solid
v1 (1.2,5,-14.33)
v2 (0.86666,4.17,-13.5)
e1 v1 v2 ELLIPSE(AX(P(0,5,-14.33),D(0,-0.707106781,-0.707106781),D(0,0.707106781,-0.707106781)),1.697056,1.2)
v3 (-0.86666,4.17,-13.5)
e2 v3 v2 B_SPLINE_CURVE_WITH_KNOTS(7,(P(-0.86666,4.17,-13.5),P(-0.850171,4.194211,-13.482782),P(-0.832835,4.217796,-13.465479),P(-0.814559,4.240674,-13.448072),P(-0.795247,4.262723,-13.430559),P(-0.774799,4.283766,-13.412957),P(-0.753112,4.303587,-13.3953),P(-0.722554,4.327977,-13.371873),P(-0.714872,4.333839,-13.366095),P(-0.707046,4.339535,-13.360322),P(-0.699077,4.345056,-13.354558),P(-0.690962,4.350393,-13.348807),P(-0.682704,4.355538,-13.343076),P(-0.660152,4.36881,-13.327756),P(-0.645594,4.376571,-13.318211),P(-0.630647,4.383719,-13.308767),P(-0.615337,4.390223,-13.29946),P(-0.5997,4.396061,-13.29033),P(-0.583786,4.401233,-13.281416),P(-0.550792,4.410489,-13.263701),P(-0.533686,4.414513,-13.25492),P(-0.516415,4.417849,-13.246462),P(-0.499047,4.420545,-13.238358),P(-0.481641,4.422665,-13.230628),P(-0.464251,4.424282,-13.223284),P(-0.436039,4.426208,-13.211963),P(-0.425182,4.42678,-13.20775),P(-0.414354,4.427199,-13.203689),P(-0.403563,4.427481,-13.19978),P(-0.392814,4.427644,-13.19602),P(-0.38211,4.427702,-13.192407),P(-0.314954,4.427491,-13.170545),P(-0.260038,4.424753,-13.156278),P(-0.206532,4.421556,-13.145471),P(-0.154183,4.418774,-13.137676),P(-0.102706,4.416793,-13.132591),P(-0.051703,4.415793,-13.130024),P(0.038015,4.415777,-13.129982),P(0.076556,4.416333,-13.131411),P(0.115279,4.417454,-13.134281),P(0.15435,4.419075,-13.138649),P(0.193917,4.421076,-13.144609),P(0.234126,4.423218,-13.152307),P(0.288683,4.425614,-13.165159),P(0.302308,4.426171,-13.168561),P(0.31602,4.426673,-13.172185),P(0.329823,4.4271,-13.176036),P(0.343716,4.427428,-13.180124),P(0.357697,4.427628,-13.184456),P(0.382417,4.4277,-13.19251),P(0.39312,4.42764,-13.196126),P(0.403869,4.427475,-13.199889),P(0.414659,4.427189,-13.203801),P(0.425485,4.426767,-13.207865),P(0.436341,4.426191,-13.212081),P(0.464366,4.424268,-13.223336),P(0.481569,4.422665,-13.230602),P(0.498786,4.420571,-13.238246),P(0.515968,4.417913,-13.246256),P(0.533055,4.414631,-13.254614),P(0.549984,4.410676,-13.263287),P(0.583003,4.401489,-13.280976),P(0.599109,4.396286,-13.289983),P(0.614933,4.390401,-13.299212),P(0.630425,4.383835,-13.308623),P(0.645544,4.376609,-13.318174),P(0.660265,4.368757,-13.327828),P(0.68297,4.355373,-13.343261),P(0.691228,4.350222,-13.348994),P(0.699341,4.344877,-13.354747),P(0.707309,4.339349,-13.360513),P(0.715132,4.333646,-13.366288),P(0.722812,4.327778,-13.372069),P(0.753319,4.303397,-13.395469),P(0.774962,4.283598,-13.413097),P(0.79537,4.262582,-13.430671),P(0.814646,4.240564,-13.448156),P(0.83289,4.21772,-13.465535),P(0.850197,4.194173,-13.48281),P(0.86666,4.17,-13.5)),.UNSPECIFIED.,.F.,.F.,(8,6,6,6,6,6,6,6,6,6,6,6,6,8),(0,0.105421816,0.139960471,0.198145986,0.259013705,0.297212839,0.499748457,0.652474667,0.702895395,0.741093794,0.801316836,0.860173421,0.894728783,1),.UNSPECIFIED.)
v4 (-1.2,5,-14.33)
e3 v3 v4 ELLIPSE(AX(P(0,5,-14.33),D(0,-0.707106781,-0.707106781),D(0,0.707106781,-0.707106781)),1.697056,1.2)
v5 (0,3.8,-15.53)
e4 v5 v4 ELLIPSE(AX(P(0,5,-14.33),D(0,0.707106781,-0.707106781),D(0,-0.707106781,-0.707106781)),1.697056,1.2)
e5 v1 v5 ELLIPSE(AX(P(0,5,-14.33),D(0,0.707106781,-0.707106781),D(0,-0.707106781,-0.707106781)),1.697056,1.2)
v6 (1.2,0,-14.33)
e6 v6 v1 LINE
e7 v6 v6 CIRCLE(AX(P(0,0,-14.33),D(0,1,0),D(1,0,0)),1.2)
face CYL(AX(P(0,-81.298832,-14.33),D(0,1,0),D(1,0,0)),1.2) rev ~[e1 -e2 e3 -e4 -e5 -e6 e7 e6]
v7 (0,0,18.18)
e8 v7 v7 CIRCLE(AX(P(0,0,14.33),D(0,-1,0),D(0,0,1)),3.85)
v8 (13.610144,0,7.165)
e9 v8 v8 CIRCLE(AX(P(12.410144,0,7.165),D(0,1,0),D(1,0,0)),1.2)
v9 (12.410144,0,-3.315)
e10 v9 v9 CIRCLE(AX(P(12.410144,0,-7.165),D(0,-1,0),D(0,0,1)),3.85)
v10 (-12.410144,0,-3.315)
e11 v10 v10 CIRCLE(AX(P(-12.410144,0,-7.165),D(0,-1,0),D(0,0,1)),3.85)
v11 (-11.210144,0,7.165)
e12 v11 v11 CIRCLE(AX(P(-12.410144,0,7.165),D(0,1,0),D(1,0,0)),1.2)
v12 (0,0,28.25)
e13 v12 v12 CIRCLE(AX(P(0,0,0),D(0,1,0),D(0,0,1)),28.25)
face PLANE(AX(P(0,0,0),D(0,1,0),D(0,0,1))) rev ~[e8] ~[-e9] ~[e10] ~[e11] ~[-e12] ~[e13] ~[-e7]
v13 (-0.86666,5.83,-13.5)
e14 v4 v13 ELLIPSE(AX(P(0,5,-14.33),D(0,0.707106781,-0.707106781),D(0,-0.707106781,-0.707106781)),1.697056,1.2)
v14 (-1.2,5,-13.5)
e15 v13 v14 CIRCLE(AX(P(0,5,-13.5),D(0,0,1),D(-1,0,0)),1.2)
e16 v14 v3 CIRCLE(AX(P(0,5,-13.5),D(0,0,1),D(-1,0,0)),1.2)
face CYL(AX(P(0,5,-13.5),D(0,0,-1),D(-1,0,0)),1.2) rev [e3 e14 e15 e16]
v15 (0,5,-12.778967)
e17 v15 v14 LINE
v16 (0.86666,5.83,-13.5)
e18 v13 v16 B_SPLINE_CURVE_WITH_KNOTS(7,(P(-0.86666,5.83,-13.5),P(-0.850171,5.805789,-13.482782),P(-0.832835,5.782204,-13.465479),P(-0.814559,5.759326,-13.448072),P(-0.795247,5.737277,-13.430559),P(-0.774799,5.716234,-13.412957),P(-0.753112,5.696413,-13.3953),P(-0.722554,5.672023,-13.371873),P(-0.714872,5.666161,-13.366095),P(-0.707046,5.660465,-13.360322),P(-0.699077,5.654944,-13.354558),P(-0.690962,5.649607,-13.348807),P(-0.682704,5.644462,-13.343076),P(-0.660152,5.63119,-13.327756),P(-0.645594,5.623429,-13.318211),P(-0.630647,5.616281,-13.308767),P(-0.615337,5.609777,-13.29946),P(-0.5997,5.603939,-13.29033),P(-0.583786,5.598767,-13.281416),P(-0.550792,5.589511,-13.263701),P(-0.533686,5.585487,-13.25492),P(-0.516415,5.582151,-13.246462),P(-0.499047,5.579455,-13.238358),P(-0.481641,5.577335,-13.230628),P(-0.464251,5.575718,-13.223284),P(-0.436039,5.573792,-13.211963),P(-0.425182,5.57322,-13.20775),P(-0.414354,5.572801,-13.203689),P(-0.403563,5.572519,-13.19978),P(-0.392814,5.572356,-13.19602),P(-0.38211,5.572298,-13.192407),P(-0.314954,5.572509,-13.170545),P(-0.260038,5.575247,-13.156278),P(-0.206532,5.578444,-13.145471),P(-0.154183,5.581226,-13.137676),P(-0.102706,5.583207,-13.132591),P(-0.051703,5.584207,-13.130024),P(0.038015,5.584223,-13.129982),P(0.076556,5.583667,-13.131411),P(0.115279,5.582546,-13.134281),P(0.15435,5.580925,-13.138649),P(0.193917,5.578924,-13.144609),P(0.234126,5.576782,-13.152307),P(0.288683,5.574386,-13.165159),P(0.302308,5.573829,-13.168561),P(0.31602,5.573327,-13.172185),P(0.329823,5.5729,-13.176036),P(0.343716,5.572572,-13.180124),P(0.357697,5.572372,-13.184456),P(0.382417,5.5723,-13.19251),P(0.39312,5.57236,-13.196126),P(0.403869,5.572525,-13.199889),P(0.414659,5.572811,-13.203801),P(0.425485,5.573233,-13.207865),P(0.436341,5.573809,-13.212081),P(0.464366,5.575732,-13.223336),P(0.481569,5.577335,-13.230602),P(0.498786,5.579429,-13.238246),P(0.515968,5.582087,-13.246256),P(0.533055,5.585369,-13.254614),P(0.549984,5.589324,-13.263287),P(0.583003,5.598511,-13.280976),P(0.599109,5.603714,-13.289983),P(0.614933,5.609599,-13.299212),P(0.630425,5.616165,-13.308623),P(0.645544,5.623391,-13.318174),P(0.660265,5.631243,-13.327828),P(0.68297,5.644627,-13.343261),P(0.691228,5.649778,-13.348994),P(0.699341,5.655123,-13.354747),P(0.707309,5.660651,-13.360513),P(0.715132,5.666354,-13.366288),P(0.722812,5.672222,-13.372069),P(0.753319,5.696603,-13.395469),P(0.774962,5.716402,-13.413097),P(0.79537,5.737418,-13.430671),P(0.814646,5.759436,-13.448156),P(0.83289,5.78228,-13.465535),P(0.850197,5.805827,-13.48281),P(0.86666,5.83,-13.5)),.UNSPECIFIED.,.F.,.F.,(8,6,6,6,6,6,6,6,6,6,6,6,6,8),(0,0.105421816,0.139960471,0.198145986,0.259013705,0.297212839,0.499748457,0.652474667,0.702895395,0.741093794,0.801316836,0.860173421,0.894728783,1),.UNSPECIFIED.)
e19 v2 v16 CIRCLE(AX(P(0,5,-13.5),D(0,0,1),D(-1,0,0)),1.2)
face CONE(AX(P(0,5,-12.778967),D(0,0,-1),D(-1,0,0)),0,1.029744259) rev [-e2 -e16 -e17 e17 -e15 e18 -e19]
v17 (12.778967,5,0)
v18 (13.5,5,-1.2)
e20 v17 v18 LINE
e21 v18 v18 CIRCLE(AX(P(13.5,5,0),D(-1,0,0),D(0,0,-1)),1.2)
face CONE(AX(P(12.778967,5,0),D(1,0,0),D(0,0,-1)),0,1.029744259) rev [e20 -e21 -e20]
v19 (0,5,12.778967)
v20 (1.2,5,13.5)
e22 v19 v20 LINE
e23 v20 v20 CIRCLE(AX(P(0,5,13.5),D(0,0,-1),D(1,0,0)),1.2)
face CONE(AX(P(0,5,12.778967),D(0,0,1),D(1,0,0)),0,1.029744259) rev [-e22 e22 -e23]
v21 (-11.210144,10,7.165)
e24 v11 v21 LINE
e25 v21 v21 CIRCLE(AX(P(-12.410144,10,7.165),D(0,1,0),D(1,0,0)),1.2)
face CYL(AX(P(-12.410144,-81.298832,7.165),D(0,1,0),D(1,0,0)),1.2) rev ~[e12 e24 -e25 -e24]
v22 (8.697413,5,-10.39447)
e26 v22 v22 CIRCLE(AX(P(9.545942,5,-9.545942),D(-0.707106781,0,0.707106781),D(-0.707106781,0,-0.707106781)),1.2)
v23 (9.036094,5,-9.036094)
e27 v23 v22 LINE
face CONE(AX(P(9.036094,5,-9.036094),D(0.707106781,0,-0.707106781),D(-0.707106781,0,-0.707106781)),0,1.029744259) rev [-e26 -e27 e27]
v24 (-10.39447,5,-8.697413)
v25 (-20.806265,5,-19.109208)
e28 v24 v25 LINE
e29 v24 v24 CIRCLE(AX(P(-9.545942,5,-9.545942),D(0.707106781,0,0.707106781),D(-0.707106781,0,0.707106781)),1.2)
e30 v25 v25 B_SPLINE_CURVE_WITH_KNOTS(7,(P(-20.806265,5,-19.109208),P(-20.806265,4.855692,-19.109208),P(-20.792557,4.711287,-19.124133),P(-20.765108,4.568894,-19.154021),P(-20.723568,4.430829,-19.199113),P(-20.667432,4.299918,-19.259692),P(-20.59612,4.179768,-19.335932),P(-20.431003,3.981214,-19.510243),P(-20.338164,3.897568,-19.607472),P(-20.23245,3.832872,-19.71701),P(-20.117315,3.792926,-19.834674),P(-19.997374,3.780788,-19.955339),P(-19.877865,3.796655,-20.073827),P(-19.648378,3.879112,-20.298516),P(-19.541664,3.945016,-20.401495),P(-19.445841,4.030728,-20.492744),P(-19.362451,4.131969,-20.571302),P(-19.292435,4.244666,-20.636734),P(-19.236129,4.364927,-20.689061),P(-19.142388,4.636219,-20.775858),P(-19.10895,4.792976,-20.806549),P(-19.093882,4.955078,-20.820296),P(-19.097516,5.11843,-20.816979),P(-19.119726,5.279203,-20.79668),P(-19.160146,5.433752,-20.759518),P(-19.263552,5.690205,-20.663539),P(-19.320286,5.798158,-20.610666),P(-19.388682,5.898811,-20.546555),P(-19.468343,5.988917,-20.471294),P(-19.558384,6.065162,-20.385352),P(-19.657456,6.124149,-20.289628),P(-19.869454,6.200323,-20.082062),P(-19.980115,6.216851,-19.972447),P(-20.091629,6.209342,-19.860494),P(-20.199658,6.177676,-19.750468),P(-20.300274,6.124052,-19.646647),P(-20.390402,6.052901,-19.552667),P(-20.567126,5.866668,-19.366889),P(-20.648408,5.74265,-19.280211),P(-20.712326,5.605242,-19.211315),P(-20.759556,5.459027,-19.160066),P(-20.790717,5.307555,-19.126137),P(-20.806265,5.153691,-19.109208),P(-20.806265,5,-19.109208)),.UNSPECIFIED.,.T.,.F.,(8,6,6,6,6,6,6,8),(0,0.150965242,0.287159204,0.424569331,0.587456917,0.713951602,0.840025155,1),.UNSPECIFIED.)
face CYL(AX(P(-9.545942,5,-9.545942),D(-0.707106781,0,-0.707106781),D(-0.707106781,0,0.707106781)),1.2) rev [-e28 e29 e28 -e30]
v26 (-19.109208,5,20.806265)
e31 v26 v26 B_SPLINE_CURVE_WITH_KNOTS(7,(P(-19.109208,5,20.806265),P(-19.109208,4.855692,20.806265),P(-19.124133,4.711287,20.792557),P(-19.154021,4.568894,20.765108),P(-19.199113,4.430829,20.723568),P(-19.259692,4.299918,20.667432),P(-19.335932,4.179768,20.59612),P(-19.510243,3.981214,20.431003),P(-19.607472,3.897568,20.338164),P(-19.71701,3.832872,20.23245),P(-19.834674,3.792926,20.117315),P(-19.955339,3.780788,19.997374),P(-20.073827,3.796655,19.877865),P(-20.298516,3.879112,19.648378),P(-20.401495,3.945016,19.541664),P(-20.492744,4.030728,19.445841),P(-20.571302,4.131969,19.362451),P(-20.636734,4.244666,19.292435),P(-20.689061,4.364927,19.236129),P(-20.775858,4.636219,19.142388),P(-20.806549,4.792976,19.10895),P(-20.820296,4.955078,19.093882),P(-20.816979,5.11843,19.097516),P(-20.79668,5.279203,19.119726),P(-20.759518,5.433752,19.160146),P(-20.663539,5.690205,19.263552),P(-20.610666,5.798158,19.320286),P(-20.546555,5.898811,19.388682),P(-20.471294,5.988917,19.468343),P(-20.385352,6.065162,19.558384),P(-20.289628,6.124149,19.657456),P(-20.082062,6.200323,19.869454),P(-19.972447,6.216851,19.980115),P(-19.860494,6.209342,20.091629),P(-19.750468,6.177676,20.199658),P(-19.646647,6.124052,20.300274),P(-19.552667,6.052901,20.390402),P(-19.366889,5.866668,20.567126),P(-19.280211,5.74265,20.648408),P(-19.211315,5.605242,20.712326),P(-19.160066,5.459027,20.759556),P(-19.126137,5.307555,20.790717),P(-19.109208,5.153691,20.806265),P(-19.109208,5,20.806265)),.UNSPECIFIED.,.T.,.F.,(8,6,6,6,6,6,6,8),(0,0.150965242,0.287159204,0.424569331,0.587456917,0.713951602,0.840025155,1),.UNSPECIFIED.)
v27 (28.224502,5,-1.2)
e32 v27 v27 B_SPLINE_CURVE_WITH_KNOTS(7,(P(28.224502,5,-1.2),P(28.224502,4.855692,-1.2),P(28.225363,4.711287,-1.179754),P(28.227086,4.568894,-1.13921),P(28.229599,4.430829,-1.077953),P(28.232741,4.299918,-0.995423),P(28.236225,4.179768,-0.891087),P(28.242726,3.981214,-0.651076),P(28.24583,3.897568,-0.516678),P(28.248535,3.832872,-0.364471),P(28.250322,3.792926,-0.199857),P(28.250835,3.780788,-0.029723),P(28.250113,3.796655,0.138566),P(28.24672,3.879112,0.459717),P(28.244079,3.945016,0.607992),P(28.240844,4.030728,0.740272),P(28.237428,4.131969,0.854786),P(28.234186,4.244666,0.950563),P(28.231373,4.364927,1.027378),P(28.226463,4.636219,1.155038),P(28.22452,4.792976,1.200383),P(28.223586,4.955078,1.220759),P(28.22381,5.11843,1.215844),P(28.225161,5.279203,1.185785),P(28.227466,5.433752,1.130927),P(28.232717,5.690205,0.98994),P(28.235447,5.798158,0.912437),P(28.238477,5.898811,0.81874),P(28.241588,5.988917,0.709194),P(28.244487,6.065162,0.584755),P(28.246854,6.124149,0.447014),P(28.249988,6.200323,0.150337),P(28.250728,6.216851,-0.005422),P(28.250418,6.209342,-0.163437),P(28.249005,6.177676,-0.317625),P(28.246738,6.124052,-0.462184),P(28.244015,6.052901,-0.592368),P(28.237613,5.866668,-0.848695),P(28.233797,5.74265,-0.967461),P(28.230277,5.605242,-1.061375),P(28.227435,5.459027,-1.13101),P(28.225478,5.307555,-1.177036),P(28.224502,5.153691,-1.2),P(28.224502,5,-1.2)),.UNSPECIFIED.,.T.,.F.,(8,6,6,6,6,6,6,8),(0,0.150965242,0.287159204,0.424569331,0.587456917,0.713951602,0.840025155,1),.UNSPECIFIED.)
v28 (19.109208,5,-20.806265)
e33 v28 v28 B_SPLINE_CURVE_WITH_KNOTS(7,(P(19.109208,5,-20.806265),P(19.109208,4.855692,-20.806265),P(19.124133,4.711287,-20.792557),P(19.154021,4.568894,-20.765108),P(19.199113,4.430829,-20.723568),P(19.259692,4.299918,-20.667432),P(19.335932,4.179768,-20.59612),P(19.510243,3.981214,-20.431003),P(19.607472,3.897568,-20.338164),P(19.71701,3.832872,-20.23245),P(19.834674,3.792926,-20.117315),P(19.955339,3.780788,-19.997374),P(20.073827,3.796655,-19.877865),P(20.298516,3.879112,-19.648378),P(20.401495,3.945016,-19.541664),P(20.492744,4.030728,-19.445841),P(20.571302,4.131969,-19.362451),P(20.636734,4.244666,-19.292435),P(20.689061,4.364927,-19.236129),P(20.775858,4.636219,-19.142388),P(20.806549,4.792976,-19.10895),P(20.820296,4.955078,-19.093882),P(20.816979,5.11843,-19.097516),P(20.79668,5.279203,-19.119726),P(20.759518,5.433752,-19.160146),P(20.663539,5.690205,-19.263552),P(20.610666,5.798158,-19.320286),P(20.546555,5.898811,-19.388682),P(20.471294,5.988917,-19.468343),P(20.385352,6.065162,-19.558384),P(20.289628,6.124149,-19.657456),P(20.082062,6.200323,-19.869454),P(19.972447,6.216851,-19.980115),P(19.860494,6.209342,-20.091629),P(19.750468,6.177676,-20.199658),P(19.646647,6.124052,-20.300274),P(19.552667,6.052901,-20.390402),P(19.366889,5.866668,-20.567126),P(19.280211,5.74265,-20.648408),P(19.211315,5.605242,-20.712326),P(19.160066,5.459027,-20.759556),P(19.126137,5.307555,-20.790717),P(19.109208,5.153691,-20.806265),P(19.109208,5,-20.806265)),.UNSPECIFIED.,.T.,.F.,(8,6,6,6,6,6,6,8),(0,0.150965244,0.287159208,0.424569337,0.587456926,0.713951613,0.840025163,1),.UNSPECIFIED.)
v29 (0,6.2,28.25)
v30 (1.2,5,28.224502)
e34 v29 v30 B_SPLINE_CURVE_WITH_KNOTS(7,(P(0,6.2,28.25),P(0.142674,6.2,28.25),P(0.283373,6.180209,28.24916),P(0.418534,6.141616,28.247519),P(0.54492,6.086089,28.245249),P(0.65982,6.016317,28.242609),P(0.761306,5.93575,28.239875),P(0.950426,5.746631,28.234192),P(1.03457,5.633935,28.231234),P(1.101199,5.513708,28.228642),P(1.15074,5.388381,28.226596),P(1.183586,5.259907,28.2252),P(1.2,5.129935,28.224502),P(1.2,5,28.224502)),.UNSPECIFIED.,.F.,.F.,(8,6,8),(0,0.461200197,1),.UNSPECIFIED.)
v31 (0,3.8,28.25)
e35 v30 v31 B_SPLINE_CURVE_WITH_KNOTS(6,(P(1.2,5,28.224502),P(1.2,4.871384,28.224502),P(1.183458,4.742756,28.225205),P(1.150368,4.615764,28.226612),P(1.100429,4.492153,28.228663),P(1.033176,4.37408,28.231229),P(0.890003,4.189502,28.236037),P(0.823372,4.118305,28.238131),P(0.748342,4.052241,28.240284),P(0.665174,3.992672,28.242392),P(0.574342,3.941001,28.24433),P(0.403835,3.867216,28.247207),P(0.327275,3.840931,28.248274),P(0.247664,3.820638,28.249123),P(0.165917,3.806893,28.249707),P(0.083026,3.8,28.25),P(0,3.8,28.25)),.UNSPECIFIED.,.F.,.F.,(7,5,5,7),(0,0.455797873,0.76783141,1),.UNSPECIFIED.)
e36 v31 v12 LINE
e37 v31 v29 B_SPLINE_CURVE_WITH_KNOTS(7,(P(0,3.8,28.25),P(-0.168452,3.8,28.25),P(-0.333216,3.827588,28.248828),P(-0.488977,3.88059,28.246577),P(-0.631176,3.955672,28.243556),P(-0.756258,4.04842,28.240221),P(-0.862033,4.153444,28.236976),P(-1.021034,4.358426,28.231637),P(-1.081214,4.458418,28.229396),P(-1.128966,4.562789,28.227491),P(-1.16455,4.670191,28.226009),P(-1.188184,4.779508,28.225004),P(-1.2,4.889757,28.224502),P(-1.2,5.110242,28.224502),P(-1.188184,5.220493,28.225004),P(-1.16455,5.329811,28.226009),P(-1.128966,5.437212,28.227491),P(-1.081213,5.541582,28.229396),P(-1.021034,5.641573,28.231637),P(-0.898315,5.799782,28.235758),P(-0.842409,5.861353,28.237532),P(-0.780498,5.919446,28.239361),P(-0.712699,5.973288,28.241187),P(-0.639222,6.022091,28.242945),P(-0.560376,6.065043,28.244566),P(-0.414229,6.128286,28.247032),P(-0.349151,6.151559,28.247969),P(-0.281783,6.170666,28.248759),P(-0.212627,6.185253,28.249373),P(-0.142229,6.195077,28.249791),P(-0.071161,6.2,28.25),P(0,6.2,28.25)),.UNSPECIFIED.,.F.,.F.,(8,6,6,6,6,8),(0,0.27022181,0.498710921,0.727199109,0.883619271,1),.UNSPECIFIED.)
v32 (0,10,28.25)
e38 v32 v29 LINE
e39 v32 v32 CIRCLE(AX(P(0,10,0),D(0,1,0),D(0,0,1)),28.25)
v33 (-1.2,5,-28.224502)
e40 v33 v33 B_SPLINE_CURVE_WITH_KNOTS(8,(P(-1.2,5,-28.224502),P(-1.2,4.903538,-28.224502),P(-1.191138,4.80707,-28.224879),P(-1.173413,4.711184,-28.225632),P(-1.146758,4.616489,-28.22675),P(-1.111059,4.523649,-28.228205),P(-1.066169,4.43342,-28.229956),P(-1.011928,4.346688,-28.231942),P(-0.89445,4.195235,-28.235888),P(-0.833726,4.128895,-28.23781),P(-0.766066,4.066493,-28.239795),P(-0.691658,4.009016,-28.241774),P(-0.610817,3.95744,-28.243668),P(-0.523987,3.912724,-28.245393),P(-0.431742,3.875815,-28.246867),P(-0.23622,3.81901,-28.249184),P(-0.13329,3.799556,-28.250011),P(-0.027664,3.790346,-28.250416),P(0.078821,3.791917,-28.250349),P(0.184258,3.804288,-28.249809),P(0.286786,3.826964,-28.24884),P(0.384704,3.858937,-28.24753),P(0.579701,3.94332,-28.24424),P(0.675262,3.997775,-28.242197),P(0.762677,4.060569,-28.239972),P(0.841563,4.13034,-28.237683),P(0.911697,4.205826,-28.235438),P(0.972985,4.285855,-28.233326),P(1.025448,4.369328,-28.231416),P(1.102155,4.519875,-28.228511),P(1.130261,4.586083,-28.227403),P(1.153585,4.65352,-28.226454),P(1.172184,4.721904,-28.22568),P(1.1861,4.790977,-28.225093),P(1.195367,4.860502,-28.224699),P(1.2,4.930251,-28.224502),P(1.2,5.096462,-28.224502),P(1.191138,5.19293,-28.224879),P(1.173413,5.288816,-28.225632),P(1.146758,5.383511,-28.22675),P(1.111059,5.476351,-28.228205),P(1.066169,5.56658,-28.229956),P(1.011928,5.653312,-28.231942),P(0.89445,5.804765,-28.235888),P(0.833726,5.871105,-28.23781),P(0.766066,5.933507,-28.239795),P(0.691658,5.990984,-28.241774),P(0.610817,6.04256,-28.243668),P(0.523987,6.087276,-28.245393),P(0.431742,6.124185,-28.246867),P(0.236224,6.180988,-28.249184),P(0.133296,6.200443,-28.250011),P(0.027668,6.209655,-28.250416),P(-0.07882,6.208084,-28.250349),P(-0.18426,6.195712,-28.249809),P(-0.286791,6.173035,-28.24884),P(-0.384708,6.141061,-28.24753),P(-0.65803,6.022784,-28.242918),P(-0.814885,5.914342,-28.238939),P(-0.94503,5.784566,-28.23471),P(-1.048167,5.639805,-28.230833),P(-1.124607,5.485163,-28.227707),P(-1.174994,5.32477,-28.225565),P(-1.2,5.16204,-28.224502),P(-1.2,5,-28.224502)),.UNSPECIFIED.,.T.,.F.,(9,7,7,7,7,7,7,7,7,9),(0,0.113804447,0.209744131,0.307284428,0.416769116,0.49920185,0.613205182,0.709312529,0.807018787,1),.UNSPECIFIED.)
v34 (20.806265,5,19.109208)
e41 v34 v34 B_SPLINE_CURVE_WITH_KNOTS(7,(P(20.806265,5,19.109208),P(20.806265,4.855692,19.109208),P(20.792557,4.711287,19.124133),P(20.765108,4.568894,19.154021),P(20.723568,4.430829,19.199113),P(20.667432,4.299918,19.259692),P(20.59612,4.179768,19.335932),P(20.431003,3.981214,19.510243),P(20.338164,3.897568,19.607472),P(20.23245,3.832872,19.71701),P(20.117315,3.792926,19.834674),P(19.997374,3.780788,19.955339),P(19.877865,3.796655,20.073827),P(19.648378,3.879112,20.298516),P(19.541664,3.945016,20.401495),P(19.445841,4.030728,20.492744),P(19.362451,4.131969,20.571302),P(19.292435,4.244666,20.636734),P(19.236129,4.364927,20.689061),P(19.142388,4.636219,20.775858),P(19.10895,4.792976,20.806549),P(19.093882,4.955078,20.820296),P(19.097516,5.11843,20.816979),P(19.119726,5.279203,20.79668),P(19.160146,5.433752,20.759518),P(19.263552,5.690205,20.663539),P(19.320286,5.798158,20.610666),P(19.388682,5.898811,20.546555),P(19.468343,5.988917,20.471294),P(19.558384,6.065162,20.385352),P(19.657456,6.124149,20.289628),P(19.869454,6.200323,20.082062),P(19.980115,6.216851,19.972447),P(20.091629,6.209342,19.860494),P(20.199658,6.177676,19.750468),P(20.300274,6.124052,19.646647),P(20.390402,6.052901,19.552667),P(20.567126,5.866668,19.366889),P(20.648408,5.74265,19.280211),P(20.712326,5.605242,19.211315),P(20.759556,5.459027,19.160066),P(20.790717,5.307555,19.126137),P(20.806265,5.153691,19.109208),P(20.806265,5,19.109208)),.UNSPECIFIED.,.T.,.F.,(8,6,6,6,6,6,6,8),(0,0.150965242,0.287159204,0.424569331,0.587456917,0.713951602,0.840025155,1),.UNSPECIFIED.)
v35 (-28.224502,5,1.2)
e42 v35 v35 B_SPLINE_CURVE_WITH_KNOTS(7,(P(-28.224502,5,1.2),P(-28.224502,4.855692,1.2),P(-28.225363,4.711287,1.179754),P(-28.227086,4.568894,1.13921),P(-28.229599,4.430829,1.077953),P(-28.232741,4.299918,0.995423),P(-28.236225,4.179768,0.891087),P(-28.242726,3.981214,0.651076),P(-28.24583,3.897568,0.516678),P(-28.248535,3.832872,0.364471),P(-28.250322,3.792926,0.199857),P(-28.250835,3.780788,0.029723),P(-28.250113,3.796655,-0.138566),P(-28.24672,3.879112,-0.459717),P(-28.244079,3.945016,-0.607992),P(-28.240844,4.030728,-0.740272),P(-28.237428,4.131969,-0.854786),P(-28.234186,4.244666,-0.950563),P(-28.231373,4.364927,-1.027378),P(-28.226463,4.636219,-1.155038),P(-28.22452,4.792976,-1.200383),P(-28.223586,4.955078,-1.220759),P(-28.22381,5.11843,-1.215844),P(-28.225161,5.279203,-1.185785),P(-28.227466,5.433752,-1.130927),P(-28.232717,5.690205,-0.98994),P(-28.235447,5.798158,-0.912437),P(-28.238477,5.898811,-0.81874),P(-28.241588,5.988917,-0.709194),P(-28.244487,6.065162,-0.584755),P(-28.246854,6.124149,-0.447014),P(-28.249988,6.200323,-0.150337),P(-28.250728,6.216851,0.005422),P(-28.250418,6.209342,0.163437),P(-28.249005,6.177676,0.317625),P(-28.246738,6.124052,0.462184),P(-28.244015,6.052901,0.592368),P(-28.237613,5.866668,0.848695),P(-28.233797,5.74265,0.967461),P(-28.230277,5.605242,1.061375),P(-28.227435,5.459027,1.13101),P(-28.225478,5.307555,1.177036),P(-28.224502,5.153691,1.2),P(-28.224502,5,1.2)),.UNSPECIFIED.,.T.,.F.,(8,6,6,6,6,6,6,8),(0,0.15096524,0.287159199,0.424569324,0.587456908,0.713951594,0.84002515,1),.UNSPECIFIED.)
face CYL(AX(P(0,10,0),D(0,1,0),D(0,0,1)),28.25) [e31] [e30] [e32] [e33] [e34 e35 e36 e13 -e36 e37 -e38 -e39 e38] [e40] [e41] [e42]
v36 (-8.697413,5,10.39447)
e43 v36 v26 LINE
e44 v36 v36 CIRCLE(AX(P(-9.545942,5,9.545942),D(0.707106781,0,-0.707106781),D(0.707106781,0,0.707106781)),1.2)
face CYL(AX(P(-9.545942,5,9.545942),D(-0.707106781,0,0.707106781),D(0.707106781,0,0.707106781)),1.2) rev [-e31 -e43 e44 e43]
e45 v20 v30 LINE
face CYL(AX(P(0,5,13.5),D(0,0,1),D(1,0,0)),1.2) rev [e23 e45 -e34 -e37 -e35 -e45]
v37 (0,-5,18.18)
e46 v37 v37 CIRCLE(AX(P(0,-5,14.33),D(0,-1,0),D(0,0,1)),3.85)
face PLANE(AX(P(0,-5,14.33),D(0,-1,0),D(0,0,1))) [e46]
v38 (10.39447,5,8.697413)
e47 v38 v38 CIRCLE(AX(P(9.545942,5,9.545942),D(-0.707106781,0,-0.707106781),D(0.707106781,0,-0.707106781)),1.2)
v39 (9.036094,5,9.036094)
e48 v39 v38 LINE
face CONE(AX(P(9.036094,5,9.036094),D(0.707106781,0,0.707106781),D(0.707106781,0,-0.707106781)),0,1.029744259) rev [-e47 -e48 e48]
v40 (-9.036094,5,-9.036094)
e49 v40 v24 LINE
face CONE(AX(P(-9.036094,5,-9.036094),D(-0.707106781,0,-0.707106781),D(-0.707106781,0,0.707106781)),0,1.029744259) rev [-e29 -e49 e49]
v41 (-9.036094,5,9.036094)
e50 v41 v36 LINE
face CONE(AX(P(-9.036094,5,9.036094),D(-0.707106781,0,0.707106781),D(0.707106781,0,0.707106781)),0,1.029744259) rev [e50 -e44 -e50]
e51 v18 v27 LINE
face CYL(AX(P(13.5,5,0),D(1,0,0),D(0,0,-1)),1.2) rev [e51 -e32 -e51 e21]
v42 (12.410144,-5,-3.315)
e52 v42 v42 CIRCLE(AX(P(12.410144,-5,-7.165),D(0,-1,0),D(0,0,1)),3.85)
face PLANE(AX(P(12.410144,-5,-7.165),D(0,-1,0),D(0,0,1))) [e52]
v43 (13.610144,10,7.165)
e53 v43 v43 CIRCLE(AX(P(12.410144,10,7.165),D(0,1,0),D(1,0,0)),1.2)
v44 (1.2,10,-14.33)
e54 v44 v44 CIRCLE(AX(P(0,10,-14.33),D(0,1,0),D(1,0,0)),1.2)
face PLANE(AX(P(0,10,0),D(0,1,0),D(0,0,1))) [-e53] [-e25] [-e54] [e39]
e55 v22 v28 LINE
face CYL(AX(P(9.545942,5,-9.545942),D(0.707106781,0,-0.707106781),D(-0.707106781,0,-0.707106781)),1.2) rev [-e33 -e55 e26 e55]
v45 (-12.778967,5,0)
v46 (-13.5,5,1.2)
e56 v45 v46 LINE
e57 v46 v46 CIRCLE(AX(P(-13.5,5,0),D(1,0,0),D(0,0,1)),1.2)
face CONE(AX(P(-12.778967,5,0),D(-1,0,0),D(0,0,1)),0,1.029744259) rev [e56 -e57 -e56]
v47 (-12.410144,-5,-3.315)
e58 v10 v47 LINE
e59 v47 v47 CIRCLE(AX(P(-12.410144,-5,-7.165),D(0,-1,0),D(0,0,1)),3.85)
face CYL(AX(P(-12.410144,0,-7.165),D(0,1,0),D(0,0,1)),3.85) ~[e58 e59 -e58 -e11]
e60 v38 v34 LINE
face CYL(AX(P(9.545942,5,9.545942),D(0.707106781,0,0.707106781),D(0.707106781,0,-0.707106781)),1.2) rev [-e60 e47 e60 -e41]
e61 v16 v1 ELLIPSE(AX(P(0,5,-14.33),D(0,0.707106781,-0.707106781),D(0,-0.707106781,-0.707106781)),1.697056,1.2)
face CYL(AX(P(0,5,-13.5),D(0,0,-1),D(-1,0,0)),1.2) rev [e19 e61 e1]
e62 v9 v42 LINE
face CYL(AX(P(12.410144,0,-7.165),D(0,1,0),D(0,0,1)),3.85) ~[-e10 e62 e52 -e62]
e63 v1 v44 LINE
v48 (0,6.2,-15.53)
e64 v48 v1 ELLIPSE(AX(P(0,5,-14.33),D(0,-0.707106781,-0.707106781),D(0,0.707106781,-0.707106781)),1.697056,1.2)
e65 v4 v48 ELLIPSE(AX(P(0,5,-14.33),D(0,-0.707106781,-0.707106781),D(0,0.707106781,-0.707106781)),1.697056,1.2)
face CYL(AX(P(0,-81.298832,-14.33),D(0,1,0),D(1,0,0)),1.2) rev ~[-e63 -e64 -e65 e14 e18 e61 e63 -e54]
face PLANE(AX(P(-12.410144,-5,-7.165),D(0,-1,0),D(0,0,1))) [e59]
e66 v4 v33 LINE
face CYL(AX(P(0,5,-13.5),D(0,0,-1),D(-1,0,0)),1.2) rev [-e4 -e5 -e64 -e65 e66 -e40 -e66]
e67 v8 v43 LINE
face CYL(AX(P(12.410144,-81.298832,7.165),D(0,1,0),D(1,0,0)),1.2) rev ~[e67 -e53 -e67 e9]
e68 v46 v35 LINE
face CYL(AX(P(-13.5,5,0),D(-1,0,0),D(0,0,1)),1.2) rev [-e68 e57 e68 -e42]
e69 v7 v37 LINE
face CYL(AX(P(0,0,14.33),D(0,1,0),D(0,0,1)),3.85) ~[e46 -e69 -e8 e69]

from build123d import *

# Parameters (mm, degrees)
SKETCH_1_R               = 28.5
EXTRUDE_1_DEPTH          = 10
SKETCH_36_R              = 3.85
EXTRUDE_5_DEPTH          = 5
PATTERN_CIRCULAR_4_COUNT = 8
SKETCH_42_R              = 39.215237935
SKETCH_42_R_2            = 28.25
CUT_EXTRUDE_1_DEPTH      = 44.005813698
HOLE_WIZARD_M2_3_D       = 2.4


with BuildPart() as part:
    # 스케치1 → 보스-돌출1 (new body)
    with BuildSketch(Plane(origin=(0, 0, 0), x_dir=(1, 0, 0), z_dir=(0, 1, 0))):
        with Locations(Location((0, 0, 0), (0, 0, 270))):
            Circle(SKETCH_1_R)
    extrude(amount=EXTRUDE_1_DEPTH)

    # 스케치36 → 보스-돌출5 (add)
    with BuildSketch(Plane.XZ):
        with Locations(Location((0, 14.33, 0), (0, 0, 90))):
            Circle(SKETCH_36_R)
        with Locations(Location((12.410144036, -7.165, 0), (0, 0, 90))):
            Circle(SKETCH_36_R)
        with Locations(Location((-12.410144036, -7.165, 0), (0, 0, 90))):
            Circle(SKETCH_36_R)
    extrude(amount=EXTRUDE_5_DEPTH)

    # 스케치41 → M2 여유 구멍1 (revolve, cut)
    with BuildSketch(Plane(origin=(-28.5, 5, 0), x_dir=(0, 0, 1), z_dir=(0, 1, 0))):
        Polygon((0, 0), (0, 15.721032743), (1.2, 15), (1.2, 0), align=None)
    hole_wizard_m2_1 = revolve(axis=Axis((-34.85, 5, 0), (1, 0, 0)), mode=Mode.SUBTRACT)

    # 원형 패턴4: M2 여유 구멍1 ×8 about axis
    pattern_circular_4_axis = Axis((0, 10, 0), (0, 1, 0))
    for i in range(1, PATTERN_CIRCULAR_4_COUNT):
        add(hole_wizard_m2_1.rotate(pattern_circular_4_axis, i * 360 / PATTERN_CIRCULAR_4_COUNT), mode=Mode.SUBTRACT)

    # 스케치42 → 컷-돌출1 (cut, through all)
    with BuildSketch(Plane(origin=(0, 10, 0), x_dir=(1, 0, 0), z_dir=(0, 1, 0))):
        Circle(SKETCH_42_R)
        with Locations(Location((0, 0, 0), (0, 0, 270))):
            Circle(SKETCH_42_R_2, mode=Mode.SUBTRACT)
    extrude(amount=-CUT_EXTRUDE_1_DEPTH, mode=Mode.SUBTRACT)

    # M2 여유 구멍3 (through all)
    with Locations(Plane(origin=(0, 0, 0), x_dir=(-1, 0, 0), z_dir=(0, -1, 0))):
        with Locations((-12.410144036, -7.165), (0, 14.33), (12.410144036, -7.165)):
            Hole(HOLE_WIZARD_M2_3_D / 2)


solid = part.part
